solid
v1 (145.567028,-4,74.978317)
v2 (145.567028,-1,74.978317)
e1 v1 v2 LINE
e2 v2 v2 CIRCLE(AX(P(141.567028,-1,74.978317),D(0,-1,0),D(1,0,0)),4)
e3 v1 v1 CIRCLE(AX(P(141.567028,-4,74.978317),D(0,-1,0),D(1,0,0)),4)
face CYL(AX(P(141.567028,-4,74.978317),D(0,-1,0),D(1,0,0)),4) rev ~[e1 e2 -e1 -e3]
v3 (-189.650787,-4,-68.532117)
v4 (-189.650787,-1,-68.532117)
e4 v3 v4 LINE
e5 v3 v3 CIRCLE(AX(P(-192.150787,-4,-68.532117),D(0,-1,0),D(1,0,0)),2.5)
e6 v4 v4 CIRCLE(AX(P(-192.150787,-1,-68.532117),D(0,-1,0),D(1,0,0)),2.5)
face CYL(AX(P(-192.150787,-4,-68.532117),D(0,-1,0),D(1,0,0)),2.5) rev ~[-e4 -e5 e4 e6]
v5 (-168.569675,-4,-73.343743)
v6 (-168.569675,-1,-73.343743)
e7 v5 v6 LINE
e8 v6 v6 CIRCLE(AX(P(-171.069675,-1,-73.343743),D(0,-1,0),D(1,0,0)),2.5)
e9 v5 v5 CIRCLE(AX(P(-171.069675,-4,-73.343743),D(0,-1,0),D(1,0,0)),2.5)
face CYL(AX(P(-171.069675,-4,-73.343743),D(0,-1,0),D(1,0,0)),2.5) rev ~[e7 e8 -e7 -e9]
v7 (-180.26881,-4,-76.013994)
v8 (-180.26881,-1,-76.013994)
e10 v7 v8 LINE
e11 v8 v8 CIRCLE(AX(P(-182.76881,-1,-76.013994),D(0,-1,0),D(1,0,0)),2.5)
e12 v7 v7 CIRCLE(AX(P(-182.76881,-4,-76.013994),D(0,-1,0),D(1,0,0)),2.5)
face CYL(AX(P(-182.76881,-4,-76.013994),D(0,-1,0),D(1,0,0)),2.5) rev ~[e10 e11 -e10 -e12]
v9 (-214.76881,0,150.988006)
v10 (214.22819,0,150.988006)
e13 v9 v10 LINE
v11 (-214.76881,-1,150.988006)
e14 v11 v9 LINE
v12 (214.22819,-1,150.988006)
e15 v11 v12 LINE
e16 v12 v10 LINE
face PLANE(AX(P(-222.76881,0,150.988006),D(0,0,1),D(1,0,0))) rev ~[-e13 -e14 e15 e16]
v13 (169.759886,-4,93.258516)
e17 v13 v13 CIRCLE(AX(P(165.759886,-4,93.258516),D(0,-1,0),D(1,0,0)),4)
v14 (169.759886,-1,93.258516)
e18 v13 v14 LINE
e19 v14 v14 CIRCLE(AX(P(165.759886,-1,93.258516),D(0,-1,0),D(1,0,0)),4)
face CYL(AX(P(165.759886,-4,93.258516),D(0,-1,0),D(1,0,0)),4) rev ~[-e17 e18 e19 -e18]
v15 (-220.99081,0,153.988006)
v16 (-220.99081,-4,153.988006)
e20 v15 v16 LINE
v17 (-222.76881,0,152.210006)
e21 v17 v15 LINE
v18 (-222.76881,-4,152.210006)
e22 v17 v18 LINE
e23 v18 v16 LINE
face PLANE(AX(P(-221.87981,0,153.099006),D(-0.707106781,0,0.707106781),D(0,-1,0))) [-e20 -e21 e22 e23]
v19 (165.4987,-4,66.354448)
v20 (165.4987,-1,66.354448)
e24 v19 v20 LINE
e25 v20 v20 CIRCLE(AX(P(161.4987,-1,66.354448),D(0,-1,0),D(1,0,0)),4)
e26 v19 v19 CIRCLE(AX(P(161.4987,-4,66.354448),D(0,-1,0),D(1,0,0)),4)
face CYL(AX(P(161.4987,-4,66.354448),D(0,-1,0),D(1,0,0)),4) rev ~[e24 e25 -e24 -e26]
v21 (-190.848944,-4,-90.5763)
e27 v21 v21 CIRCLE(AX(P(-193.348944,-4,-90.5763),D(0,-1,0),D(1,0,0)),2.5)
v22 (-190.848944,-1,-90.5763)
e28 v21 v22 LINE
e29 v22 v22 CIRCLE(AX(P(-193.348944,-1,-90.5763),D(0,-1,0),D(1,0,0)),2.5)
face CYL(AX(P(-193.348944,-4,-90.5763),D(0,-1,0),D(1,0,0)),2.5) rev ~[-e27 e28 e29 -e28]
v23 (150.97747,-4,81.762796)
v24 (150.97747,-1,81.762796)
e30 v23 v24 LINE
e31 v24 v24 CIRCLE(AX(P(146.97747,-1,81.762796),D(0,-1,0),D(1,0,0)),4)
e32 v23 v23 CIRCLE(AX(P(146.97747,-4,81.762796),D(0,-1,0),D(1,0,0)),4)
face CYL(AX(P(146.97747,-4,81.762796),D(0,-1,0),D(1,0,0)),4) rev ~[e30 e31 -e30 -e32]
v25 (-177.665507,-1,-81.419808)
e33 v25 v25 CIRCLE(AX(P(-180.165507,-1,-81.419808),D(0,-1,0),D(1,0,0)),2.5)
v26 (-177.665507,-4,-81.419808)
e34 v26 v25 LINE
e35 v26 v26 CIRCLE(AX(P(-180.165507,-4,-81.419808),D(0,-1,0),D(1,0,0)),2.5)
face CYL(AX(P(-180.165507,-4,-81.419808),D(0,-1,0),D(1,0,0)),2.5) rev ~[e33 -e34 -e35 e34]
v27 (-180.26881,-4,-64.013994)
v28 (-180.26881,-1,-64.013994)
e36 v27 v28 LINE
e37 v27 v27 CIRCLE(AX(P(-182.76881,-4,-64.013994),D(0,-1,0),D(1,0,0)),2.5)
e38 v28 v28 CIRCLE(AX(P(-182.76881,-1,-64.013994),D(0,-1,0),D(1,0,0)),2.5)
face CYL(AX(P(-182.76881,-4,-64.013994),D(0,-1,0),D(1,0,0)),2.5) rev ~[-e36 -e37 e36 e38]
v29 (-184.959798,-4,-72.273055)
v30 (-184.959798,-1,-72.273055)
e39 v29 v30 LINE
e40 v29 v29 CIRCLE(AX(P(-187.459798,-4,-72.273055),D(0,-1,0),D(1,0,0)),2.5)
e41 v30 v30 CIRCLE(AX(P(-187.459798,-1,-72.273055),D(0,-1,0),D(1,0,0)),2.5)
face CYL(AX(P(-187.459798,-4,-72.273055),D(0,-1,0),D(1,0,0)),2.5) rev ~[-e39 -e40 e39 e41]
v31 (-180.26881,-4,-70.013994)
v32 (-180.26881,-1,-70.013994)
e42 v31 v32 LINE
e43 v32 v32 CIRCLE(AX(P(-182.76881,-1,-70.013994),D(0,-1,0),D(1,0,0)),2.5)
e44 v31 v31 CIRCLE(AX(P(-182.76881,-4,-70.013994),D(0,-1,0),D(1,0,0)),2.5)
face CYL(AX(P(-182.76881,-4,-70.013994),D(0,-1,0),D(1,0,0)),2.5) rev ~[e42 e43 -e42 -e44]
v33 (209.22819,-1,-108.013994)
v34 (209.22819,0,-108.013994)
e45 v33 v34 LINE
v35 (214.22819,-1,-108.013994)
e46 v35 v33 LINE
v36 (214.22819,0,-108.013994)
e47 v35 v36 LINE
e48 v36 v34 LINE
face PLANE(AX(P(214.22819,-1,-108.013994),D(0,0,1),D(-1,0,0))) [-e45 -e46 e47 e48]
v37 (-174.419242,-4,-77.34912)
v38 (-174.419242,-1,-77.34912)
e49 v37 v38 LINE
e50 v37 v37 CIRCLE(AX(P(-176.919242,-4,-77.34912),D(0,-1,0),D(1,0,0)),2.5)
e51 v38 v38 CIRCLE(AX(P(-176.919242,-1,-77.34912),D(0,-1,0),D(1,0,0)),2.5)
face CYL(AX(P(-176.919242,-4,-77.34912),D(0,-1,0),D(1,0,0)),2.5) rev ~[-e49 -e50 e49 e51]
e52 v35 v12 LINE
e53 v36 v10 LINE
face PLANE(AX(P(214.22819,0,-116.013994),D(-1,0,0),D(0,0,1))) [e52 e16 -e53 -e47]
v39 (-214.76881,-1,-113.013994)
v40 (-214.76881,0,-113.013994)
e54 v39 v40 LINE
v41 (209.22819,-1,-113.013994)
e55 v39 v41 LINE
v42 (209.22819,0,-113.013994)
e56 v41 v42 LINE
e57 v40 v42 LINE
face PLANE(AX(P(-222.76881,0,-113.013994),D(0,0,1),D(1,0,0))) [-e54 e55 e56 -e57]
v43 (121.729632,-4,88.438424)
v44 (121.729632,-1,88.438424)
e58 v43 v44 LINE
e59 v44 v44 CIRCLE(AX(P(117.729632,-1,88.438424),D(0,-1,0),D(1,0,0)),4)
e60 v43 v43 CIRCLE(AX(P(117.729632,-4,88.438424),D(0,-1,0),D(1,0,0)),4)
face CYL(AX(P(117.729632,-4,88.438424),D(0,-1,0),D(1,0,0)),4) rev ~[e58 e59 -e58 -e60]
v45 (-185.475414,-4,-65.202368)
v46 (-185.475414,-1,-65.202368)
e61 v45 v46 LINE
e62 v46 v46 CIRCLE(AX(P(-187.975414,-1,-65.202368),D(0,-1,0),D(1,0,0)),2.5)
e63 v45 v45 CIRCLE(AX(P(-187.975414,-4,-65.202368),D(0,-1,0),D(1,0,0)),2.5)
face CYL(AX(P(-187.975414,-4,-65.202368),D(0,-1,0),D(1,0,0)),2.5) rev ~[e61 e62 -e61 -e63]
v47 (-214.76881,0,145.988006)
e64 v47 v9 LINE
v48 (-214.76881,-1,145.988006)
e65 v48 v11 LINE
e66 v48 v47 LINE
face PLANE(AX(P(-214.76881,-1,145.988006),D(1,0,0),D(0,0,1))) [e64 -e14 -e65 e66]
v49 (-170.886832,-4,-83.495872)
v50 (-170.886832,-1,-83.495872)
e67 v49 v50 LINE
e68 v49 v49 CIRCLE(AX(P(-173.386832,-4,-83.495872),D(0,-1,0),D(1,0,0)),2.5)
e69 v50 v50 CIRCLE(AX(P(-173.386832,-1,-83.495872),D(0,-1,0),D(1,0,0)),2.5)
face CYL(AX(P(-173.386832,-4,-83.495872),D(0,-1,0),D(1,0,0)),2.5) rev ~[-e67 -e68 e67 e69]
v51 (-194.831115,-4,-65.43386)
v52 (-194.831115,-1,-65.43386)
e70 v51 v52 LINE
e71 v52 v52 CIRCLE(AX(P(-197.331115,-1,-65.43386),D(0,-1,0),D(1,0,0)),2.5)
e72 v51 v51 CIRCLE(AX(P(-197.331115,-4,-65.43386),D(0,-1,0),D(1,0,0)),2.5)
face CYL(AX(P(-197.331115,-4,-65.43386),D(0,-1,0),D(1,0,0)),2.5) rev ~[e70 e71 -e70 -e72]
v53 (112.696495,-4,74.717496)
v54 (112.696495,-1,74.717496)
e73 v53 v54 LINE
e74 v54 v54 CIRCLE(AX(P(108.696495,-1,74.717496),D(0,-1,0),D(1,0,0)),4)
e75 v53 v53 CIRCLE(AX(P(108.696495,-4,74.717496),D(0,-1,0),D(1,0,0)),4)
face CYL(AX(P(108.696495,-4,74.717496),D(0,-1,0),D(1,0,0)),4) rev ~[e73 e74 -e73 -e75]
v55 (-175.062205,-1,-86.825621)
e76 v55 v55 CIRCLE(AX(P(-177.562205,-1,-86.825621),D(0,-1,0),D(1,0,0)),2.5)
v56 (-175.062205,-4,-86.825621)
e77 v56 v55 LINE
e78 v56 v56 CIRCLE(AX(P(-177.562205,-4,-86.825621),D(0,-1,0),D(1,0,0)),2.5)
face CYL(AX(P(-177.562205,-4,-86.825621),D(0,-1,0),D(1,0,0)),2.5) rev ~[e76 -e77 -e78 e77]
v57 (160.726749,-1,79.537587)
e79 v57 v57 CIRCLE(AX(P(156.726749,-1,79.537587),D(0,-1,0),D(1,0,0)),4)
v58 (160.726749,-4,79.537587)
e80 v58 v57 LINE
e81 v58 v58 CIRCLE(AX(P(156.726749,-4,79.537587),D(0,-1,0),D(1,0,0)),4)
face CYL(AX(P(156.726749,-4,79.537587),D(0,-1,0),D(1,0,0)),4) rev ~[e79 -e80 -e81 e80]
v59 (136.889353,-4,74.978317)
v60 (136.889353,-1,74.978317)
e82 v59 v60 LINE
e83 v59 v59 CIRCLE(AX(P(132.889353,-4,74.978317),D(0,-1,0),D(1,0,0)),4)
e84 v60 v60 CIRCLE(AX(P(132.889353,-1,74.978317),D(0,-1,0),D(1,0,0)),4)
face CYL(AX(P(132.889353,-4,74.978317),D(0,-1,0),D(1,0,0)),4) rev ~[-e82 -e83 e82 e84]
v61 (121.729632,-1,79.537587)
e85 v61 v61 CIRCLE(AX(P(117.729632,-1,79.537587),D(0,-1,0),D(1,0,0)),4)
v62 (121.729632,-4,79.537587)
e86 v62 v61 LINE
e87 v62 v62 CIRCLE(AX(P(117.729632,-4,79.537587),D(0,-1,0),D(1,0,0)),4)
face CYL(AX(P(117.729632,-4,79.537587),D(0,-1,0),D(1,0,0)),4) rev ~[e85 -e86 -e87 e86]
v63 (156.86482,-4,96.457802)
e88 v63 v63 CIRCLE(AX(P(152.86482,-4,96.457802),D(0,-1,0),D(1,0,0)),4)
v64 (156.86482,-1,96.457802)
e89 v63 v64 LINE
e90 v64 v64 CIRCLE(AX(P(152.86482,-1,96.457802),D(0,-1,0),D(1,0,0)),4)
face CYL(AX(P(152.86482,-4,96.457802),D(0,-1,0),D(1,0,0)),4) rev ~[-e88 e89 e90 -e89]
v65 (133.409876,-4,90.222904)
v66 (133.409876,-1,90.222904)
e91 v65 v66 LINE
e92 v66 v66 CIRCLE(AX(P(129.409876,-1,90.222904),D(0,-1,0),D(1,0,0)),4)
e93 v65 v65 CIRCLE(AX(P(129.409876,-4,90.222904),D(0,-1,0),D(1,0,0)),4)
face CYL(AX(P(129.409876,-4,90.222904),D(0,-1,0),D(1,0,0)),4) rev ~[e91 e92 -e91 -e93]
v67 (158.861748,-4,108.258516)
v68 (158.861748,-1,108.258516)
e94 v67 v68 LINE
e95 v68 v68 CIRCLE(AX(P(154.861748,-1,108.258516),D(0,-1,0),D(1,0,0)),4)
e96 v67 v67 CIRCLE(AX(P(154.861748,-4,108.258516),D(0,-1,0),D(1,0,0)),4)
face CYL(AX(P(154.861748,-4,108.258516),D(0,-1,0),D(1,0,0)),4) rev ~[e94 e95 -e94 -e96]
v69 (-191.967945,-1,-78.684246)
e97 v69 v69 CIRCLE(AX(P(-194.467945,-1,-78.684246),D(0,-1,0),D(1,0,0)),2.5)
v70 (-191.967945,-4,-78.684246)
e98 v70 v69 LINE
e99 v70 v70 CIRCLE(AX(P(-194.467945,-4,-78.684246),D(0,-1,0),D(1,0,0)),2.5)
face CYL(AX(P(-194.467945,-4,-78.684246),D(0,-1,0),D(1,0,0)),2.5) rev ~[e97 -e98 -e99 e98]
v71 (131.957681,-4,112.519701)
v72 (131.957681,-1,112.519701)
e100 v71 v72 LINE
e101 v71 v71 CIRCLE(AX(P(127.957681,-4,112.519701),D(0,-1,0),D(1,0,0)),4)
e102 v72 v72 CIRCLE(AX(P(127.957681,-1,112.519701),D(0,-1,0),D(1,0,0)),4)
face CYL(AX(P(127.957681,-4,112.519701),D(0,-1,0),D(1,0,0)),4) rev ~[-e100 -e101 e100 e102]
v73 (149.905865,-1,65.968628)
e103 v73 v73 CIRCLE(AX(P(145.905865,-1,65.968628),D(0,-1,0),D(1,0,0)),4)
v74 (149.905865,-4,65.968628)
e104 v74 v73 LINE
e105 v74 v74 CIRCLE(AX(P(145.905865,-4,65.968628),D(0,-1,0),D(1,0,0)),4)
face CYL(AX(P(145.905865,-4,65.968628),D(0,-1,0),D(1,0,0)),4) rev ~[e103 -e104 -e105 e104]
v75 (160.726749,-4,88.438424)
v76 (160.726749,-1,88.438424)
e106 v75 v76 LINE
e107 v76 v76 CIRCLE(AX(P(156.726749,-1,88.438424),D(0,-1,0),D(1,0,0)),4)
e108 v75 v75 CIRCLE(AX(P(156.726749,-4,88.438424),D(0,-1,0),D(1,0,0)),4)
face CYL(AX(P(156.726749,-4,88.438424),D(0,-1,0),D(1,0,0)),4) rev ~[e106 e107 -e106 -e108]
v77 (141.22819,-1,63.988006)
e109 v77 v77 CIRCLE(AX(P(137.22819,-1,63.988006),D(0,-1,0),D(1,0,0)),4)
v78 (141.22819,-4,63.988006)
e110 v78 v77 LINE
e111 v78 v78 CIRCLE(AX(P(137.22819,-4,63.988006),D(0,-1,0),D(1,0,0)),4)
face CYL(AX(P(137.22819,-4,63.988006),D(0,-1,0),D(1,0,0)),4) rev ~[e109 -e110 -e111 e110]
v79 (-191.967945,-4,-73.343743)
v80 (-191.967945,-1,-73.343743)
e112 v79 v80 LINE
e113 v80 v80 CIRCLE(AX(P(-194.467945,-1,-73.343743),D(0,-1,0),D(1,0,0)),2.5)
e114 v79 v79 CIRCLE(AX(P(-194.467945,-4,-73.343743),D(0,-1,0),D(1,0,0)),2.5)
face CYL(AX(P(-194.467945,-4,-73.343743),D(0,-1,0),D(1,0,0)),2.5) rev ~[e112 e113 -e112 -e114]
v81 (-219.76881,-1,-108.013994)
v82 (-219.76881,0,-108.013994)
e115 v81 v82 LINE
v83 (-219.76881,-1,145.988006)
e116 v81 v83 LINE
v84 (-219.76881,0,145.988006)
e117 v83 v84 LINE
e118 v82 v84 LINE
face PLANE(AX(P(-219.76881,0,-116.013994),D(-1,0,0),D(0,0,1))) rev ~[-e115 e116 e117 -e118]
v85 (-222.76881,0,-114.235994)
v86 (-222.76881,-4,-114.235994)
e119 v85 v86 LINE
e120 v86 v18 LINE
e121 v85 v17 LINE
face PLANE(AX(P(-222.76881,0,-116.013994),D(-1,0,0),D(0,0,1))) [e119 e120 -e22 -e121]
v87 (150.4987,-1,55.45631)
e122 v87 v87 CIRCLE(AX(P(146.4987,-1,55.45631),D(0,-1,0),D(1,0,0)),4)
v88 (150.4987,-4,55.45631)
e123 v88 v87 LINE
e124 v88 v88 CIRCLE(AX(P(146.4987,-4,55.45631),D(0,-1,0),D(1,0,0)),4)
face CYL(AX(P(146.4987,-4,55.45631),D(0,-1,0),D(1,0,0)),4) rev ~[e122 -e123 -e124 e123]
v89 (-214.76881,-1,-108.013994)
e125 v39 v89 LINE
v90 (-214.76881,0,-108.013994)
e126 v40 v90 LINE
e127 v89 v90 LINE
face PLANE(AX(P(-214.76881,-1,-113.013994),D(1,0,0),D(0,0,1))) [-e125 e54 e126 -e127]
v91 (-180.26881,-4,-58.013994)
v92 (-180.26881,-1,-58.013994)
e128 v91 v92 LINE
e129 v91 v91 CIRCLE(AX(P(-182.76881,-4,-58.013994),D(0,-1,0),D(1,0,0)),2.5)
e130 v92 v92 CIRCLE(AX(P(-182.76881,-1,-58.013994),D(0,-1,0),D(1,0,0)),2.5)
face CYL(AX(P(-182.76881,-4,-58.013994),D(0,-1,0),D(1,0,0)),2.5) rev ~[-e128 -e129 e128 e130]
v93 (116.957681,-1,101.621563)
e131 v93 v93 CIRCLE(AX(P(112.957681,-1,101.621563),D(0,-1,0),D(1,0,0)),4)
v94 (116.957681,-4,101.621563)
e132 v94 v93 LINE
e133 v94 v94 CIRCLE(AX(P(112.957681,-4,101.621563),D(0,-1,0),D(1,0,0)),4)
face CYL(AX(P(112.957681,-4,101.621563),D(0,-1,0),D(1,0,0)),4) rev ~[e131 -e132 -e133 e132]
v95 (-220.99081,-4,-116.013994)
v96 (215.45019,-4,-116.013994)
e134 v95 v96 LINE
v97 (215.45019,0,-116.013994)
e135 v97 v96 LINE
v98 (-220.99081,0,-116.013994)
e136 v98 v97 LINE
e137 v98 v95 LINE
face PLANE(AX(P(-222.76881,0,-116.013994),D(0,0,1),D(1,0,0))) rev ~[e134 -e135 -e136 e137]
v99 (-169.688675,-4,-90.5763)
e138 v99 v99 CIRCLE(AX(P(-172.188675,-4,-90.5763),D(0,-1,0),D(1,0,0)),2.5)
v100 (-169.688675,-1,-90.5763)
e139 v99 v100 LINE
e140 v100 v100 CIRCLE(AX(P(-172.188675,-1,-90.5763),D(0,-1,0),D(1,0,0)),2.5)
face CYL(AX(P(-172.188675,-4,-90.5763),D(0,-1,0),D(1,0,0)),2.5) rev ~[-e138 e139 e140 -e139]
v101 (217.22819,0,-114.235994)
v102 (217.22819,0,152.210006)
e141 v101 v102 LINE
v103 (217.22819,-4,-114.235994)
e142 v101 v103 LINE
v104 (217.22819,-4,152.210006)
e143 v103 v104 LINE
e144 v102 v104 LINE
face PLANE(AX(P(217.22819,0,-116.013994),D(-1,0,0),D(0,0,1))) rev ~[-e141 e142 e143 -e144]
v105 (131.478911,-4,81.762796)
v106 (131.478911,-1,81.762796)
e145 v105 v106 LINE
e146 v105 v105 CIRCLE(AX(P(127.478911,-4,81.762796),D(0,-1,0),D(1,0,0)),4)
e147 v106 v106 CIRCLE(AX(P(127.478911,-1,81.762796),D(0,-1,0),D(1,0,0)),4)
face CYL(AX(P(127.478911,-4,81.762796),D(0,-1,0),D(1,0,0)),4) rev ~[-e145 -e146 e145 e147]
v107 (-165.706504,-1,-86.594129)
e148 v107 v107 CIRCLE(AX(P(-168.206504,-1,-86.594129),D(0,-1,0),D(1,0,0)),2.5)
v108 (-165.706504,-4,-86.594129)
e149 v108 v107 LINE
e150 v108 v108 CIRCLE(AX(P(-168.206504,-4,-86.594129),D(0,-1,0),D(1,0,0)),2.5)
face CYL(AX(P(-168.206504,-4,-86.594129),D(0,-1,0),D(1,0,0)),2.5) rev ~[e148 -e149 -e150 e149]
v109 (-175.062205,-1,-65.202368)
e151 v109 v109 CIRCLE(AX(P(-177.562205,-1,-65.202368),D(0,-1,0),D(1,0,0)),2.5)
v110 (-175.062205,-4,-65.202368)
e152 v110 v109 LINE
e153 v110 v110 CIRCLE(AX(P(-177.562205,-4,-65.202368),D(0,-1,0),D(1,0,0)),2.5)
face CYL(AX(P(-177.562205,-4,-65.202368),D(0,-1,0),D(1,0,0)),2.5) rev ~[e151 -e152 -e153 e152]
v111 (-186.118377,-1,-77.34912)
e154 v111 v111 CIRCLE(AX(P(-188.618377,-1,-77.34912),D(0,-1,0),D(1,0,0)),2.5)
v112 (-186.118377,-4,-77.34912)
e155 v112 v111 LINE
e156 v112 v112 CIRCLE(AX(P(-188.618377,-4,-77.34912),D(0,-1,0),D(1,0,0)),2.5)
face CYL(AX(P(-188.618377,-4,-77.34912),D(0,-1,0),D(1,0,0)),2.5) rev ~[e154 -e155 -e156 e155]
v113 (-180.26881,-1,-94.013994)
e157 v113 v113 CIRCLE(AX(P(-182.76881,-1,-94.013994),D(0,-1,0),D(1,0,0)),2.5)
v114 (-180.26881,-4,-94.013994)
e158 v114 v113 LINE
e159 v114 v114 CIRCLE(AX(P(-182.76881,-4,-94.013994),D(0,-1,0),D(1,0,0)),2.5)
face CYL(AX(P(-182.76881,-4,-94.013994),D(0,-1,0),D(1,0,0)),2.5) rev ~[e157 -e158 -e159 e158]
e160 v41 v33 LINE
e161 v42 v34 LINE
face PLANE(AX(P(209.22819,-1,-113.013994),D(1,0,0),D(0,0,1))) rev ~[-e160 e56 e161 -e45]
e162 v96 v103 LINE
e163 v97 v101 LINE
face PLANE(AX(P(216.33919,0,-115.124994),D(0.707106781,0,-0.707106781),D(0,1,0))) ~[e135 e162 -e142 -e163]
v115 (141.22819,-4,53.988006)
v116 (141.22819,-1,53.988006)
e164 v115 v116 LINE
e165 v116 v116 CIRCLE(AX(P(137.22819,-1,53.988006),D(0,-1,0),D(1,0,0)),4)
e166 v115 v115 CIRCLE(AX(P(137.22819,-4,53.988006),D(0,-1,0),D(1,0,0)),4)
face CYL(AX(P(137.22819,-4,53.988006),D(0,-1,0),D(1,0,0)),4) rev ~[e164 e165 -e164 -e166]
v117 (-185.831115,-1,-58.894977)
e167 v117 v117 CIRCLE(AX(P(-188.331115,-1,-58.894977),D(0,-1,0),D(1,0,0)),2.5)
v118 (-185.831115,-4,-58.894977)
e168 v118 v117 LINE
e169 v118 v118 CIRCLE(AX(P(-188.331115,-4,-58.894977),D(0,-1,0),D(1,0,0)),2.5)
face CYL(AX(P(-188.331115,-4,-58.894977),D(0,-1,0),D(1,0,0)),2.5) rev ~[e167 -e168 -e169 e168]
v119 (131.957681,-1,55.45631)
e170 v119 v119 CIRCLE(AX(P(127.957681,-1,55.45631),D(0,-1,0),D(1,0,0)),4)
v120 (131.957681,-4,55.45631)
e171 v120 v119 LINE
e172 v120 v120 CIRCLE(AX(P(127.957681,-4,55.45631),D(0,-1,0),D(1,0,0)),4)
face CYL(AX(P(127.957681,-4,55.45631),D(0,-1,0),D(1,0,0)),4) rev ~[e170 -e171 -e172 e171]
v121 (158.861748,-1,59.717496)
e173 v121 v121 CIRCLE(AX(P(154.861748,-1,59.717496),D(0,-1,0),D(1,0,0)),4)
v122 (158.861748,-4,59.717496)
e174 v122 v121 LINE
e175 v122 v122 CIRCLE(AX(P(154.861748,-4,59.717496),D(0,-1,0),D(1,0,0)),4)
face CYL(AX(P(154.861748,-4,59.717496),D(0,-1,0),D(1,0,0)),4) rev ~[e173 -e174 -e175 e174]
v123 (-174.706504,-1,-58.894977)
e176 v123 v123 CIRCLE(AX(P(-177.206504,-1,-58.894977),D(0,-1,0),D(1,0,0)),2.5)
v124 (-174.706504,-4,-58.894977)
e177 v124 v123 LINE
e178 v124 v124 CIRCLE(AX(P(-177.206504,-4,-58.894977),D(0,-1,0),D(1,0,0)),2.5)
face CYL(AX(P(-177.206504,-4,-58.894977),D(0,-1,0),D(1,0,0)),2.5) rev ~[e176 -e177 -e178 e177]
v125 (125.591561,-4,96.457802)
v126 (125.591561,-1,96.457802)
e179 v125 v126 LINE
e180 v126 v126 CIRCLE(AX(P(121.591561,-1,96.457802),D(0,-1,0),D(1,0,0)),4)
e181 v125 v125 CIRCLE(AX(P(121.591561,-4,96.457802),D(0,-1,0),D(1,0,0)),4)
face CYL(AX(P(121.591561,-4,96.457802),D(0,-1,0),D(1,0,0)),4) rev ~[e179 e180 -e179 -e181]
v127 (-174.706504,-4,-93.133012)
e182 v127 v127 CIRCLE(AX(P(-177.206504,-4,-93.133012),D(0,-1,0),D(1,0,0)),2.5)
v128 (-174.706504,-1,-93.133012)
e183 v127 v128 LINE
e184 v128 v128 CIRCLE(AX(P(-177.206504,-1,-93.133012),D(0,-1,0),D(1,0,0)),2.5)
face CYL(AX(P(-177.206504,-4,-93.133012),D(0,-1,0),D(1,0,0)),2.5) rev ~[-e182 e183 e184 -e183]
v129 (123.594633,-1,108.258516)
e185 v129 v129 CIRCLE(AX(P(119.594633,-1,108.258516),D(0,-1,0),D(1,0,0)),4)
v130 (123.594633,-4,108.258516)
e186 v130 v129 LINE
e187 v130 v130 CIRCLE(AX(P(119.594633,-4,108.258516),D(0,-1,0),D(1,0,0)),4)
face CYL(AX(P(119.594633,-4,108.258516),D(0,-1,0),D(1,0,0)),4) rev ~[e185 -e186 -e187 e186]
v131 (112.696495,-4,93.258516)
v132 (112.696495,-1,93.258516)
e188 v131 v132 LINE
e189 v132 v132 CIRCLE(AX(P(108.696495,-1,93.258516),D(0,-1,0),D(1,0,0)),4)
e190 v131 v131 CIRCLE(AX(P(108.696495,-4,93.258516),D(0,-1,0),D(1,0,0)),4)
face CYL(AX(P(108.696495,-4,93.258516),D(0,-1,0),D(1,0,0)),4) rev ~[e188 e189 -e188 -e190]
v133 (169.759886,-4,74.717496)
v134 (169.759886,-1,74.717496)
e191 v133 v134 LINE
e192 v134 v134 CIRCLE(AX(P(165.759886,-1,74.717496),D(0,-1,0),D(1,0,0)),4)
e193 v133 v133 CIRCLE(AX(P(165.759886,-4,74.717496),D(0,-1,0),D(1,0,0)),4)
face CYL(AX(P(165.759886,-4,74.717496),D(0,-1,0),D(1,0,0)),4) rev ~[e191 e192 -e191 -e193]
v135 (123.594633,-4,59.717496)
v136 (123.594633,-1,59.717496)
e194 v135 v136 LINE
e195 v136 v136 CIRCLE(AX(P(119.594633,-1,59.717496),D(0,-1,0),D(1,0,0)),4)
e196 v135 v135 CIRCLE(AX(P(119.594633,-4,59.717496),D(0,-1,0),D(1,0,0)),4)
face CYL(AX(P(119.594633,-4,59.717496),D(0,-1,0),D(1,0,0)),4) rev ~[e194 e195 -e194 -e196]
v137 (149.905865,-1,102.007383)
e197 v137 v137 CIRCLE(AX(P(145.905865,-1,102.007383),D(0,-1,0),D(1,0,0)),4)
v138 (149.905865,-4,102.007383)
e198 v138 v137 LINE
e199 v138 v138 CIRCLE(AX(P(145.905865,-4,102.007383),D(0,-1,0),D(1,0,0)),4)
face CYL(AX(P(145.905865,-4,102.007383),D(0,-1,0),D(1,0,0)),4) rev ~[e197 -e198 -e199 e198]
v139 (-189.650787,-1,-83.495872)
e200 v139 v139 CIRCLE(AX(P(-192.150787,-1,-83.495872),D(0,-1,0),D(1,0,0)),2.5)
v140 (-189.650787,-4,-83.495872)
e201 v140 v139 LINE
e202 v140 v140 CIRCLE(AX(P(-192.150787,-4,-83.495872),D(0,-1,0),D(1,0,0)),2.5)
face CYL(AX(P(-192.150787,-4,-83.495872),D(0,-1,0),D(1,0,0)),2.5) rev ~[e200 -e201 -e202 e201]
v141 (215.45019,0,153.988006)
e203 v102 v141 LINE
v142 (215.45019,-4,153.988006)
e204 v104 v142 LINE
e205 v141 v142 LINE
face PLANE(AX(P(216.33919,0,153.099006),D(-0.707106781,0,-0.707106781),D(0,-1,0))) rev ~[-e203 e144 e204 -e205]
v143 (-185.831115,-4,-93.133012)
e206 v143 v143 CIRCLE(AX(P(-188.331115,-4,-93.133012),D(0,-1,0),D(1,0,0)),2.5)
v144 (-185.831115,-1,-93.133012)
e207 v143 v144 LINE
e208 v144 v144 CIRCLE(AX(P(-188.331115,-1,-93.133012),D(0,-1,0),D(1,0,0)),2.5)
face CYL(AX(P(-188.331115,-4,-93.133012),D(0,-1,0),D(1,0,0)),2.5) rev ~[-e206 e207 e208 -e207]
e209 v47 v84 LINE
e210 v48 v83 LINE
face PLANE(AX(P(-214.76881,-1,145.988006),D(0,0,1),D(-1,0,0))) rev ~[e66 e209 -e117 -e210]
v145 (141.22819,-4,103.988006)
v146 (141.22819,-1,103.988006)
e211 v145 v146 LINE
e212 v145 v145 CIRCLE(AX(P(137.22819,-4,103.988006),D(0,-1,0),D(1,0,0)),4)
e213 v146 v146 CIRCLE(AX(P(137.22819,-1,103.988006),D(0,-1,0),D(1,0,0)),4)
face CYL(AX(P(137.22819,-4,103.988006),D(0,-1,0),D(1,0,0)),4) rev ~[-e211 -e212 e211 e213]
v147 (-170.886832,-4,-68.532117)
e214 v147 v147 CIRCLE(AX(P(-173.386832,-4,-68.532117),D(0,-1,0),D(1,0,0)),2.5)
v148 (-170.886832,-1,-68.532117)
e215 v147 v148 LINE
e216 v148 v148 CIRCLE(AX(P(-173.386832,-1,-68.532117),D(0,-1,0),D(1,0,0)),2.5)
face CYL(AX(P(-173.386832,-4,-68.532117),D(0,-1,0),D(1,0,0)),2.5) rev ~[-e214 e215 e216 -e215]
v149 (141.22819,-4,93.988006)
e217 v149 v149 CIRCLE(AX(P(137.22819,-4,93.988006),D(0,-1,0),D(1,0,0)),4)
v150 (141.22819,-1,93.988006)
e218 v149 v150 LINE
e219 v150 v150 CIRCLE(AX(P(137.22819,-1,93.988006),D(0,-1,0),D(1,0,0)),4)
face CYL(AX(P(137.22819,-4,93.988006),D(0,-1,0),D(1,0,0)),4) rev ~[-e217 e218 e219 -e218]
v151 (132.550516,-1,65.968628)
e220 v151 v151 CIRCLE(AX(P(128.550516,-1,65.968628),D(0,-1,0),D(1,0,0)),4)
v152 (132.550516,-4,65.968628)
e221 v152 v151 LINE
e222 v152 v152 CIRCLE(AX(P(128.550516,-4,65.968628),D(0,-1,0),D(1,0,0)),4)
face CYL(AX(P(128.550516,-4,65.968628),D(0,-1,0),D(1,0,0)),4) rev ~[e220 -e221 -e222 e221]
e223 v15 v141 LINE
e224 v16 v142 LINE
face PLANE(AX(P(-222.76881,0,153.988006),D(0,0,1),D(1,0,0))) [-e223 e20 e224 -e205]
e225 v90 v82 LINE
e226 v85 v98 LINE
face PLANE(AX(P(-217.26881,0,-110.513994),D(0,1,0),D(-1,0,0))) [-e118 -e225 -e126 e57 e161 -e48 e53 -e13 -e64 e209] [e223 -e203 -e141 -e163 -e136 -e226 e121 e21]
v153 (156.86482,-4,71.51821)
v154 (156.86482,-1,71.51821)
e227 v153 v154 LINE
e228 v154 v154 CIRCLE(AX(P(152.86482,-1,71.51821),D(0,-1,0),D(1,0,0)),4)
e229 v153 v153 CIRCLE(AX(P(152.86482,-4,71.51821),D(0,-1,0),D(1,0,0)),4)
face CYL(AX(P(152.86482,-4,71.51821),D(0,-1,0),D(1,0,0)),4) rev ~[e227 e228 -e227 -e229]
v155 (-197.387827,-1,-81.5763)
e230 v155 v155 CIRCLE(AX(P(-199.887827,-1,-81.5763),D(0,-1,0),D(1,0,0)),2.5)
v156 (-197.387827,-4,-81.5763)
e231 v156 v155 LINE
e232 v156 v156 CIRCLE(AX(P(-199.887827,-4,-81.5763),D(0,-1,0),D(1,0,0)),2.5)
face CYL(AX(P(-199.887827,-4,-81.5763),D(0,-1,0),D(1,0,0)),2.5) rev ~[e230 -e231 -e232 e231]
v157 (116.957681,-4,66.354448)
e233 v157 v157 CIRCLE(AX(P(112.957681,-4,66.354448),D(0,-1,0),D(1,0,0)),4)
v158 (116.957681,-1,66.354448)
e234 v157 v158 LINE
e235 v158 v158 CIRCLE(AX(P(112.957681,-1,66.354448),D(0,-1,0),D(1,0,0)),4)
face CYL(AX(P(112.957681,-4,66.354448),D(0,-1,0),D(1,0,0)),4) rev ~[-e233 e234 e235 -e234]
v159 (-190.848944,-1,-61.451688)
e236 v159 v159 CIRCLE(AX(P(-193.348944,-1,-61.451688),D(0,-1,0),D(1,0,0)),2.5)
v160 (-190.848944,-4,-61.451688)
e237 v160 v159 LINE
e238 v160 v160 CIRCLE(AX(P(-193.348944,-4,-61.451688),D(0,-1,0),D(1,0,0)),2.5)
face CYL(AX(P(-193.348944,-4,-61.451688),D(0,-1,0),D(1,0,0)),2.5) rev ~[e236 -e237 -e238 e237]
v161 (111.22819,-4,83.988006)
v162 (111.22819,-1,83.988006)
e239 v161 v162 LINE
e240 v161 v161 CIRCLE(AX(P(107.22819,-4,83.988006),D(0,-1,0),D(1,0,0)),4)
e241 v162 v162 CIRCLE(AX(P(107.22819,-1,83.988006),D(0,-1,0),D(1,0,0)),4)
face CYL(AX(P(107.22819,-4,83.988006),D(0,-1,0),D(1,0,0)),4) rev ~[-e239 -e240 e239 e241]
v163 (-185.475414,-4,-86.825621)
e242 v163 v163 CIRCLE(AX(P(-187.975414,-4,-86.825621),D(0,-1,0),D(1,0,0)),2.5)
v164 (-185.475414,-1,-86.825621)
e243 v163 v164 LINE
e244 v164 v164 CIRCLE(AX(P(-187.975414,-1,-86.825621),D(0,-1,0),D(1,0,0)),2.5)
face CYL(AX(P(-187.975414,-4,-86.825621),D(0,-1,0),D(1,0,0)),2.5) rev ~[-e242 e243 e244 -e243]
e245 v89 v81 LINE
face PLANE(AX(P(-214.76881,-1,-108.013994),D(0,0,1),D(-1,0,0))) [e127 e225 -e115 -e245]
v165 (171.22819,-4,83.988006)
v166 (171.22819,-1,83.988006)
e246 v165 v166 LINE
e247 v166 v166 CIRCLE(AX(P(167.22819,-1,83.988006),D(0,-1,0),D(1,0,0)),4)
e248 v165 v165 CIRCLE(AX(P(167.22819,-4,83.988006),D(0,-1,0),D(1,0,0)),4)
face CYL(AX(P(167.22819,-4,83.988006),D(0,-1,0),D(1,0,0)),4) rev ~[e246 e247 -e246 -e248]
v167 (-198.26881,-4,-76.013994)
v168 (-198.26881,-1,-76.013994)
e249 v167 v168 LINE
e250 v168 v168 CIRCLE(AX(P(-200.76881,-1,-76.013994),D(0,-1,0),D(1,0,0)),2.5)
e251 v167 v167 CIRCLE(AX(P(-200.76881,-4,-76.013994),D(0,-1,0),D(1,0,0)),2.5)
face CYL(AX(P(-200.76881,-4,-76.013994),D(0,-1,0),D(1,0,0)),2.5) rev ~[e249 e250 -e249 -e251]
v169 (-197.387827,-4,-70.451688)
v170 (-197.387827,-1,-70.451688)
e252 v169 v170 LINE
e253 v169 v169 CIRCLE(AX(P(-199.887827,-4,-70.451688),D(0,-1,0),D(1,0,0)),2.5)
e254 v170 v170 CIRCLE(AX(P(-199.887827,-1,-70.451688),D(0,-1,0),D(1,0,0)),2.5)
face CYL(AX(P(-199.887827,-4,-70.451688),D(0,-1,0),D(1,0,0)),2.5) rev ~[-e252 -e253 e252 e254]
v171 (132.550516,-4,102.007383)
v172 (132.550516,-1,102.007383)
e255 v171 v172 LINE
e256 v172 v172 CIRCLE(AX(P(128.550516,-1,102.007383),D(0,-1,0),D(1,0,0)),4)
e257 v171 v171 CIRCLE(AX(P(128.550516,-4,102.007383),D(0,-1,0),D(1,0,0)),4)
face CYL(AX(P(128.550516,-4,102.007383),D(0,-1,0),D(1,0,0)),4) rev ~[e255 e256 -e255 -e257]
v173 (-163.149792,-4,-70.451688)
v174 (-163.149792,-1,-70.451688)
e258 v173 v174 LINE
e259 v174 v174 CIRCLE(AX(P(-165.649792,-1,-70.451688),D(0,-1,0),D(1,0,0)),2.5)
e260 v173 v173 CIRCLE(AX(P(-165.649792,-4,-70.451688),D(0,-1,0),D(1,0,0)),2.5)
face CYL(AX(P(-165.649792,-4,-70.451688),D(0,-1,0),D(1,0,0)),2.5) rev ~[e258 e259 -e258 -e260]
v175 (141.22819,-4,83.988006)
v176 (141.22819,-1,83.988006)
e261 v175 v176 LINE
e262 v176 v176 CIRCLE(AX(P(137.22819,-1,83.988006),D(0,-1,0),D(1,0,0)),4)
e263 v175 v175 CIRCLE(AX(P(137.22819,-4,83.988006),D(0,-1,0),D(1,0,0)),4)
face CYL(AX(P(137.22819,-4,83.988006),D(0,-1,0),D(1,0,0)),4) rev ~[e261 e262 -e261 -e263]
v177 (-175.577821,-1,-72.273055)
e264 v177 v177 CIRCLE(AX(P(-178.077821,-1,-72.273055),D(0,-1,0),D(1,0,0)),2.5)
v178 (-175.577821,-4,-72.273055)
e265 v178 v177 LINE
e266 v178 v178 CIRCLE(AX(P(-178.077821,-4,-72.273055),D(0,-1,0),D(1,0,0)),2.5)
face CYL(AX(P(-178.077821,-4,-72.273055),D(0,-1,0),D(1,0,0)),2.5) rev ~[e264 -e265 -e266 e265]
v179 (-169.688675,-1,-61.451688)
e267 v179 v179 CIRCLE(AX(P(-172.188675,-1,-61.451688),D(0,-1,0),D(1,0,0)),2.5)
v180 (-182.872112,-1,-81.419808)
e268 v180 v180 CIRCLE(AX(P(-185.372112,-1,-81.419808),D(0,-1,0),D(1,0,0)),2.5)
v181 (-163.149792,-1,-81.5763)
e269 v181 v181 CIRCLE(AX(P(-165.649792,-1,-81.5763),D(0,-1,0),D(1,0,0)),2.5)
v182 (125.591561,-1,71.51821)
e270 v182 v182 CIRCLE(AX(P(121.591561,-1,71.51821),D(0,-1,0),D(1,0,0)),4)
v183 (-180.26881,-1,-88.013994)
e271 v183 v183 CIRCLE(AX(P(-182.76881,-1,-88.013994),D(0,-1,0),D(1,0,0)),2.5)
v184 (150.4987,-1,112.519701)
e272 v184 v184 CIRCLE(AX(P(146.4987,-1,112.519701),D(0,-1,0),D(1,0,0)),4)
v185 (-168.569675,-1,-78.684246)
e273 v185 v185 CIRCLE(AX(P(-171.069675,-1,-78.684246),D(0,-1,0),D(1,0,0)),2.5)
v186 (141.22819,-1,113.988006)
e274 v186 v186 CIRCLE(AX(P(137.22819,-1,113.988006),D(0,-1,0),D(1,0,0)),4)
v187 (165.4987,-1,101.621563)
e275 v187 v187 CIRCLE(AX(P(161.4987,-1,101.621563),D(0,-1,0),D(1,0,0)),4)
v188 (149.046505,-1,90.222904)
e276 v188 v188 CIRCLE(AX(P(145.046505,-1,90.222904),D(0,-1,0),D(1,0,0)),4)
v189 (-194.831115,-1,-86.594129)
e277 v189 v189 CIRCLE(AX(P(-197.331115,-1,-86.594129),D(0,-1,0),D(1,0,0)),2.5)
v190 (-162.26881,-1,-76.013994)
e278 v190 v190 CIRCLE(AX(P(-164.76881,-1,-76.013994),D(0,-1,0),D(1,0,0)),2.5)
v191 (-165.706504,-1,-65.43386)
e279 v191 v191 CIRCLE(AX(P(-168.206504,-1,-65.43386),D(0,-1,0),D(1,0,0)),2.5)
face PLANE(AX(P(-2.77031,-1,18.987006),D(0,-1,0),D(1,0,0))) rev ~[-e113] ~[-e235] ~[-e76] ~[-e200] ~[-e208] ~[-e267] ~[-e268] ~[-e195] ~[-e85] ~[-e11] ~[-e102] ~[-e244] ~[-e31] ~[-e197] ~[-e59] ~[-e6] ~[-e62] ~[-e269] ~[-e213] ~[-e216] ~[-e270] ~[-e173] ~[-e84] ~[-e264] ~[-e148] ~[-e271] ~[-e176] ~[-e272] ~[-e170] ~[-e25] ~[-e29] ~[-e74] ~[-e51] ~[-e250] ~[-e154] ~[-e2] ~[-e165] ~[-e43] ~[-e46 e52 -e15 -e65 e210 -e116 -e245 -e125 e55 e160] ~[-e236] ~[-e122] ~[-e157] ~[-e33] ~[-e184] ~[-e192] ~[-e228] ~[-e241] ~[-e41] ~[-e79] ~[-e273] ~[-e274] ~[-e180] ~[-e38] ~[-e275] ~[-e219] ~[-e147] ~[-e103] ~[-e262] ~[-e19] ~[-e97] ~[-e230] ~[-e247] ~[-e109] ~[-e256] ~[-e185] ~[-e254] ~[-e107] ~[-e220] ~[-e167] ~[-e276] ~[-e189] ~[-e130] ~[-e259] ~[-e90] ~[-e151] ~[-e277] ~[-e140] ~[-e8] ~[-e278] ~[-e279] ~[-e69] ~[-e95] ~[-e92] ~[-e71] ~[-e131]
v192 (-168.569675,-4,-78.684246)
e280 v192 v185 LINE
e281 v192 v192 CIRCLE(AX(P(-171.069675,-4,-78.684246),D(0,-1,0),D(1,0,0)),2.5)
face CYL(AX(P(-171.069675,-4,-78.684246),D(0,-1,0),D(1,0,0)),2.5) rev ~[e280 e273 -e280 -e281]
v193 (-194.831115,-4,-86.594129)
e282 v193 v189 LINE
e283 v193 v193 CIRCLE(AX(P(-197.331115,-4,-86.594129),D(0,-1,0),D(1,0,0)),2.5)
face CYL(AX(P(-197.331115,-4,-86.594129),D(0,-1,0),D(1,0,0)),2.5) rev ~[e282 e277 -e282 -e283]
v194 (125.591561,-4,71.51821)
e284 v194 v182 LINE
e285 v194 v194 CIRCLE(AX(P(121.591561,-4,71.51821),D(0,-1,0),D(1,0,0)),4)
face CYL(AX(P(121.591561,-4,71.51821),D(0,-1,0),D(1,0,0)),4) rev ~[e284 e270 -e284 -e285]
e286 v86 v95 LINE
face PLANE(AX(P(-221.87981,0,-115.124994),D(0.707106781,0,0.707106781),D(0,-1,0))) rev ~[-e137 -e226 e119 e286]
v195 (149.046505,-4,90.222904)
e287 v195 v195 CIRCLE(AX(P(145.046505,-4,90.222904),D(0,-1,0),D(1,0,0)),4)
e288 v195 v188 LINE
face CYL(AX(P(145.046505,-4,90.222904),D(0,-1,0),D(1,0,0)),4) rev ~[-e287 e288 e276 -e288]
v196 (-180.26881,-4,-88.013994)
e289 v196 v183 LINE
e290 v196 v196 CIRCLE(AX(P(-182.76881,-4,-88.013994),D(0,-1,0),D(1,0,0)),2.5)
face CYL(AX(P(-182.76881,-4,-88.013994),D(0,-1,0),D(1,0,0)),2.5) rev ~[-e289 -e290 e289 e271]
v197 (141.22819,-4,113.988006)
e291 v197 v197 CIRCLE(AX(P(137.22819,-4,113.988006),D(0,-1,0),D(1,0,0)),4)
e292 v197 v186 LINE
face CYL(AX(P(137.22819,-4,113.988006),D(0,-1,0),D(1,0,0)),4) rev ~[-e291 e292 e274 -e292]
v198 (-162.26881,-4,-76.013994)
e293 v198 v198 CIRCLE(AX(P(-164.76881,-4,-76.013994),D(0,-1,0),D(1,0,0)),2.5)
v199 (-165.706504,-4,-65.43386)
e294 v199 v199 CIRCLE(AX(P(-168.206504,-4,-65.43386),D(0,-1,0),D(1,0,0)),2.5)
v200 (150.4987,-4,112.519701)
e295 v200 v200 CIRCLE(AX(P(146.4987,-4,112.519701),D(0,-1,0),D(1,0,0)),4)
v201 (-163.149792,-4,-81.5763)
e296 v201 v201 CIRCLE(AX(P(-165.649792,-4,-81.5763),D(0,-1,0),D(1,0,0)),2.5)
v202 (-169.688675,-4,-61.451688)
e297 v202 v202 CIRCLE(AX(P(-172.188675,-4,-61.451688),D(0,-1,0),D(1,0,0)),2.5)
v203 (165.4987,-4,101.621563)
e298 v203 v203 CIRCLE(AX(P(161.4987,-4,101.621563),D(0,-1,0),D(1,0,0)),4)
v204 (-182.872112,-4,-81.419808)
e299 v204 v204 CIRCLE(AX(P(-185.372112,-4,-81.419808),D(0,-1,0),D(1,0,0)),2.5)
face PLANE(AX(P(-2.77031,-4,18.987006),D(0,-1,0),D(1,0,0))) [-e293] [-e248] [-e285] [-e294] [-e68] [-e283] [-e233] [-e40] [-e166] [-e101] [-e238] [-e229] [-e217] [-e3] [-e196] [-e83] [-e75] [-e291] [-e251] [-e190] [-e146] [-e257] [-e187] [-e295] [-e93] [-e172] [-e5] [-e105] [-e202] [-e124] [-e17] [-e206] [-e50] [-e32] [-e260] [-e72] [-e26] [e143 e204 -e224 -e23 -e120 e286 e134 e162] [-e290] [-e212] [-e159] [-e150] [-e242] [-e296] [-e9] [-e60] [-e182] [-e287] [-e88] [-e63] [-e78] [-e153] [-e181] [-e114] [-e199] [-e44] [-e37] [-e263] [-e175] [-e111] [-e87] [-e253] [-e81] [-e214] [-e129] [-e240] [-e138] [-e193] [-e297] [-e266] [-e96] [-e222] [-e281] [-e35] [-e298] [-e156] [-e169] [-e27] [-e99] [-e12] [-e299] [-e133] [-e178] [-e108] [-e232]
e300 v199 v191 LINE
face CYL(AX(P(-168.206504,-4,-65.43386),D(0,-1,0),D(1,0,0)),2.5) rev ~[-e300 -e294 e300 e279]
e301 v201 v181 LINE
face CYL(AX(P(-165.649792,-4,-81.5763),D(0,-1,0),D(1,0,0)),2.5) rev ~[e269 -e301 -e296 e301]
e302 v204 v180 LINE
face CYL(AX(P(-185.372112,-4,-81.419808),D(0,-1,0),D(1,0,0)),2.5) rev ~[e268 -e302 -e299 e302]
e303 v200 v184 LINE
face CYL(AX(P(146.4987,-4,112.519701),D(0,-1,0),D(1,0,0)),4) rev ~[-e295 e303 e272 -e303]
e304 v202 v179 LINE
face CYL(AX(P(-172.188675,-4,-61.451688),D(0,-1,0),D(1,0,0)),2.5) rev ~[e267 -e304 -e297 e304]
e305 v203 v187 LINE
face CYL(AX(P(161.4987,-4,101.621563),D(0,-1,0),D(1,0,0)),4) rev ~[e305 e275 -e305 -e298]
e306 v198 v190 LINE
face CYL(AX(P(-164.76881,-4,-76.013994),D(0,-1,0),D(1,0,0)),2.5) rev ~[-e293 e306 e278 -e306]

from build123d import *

# Parameters (mm, degrees)
F0_W     = 439.997
F0_H     = 270.002
F1_DEPTH = 4
F2_T     = -3
F4_SIZE  = 1.778
F3_W     = 5
F3_H     = 5
F5_DEPTH = 1
F6_R     = 2.5
F7_DEPTH = 4.001
F8_R     = 4
F9_DEPTH = 4.001


with BuildPart() as f1:
    # F0 (on Front) → F1 (new body)
    with BuildSketch(Plane.XZ):
        with Locations((-2.7703095811, 18.9870057008)):
            Rectangle(F0_W, F0_H)
    extrude(amount=F1_DEPTH)

    # F2
    f2_openings = [f1.faces().sort_by_distance(p)[0] for p in [
        (-2.77031, 0, 18.987006),
    ]]
    offset(amount=F2_T, openings=f2_openings)

    # F4
    f4_edges = [f1.edges().sort_by_distance(p)[0] for p in [
        (-222.76881, -2, -116.013994),
        (-222.76881, -2, 153.988006),
        (217.22819, -2, 153.988006),
        (217.22819, -2, -116.013994),
    ]]
    chamfer(f4_edges, length=F4_SIZE)

    # F3 (on face) → F5 (join, through all)
    with BuildSketch(Plane(origin=(0, -1, 0), x_dir=(-1, 0, 0), z_dir=(0, 1, 0))):
        with Locations((217.2688095811, -110.5139942992)):
            Rectangle(F3_W, F3_H)
        with Locations((217.2688095811, 148.4880057008)):
            Rectangle(F3_W, F3_H)
        with Locations((-211.7281904189, -110.5139942992)):
            Rectangle(F3_W, F3_H)
    extrude(amount=F5_DEPTH)

    # F6 (on face) → F7 (cut, through all)
    with BuildSketch(Plane.XZ.offset(4)):
        with Locations((-182.7688095811, -58.0139942992)):
            Circle(F6_R)
        with Locations((-188.3311154799, -58.8949770059)):
            Circle(F6_R)
        with Locations((-193.3489441224, -61.4516884005)):
            Circle(F6_R)
        with Locations((-197.3311154799, -65.433859758)):
            Circle(F6_R)
        with Locations((-199.8878268745, -70.4516884005)):
            Circle(F6_R)
        with Locations((-200.7688095811, -76.0139942992)):
            Circle(F6_R)
        with Locations((-199.8878268745, -81.576300198)):
            Circle(F6_R)
        with Locations((-197.3311154799, -86.5941288405)):
            Circle(F6_R)
        with Locations((-193.3489441224, -90.576300198)):
            Circle(F6_R)
        with Locations((-188.3311154799, -93.1330115926)):
            Circle(F6_R)
        with Locations((-182.7688095811, -94.0139942992)):
            Circle(F6_R)
        with Locations((-177.2065036824, -93.1330115926)):
            Circle(F6_R)
        with Locations((-172.1886750399, -90.576300198)):
            Circle(F6_R)
        with Locations((-168.2065036824, -86.5941288405)):
            Circle(F6_R)
        with Locations((-182.7688095811, -64.0139942992)):
            Circle(F6_R)
        with Locations((-187.9754144506, -65.2023678844)):
            Circle(F6_R)
        with Locations((-192.1507873708, -68.5321166769)):
            Circle(F6_R)
        with Locations((-194.4679445273, -73.3437430918)):
            Circle(F6_R)
        with Locations((-194.4679445273, -78.6842455067)):
            Circle(F6_R)
        with Locations((-192.1507873708, -83.4958719215)):
            Circle(F6_R)
        with Locations((-187.9754144506, -86.8256207141)):
            Circle(F6_R)
        with Locations((-182.7688095811, -88.0139942992)):
            Circle(F6_R)
        with Locations((-177.5622047117, -86.8256207141)):
            Circle(F6_R)
        with Locations((-173.3868317915, -83.4958719215)):
            Circle(F6_R)
        with Locations((-182.7688095811, -70.0139942992)):
            Circle(F6_R)
        with Locations((-187.459798476, -72.2730554881)):
            Circle(F6_R)
        with Locations((-188.6183770542, -77.349119903)):
            Circle(F6_R)
        with Locations((-185.3721120159, -81.4198075067)):
            Circle(F6_R)
        with Locations((-180.1655071464, -81.4198075067)):
            Circle(F6_R)
        with Locations((-176.9192421081, -77.349119903)):
            Circle(F6_R)
        with Locations((-178.0778206863, -72.2730554881)):
            Circle(F6_R)
        with Locations((-182.7688095811, -76.0139942992)):
            Circle(F6_R)
        with Locations((-165.6497922878, -81.576300198)):
            Circle(F6_R)
        with Locations((-164.7688095811, -76.0139942992)):
            Circle(F6_R)
        with Locations((-165.6497922878, -70.4516884005)):
            Circle(F6_R)
        with Locations((-171.069674635, -78.6842455067)):
            Circle(F6_R)
        with Locations((-171.069674635, -73.3437430918)):
            Circle(F6_R)
        with Locations((-168.2065036824, -65.433859758)):
            Circle(F6_R)
        with Locations((-172.1886750399, -61.4516884005)):
            Circle(F6_R)
        with Locations((-177.2065036824, -58.8949770059)):
            Circle(F6_R)
        with Locations((-173.3868317915, -68.5321166769)):
            Circle(F6_R)
        with Locations((-177.5622047117, -65.2023678844)):
            Circle(F6_R)
    extrude(amount=-F7_DEPTH, mode=Mode.SUBTRACT)

    # F8 (on face) → F9 (cut, through all)
    with BuildSketch(Plane.XZ.offset(4)):
        with Locations((137.2281904189, 113.9880057008)):
            Circle(F8_R)
        with Locations((127.9576805876, 112.5197011896)):
            Circle(F8_R)
        with Locations((119.5946328501, 108.258515532)):
            Circle(F8_R)
        with Locations((112.9576805876, 101.6215632695)):
            Circle(F8_R)
        with Locations((108.69649493, 93.258515532)):
            Circle(F8_R)
        with Locations((107.2281904189, 83.9880057008)):
            Circle(F8_R)
        with Locations((108.69649493, 74.7174958695)):
            Circle(F8_R)
        with Locations((112.9576805876, 66.354448132)):
            Circle(F8_R)
        with Locations((119.5946328501, 59.7174958695)):
            Circle(F8_R)
        with Locations((127.9576805876, 55.4563102119)):
            Circle(F8_R)
        with Locations((137.2281904189, 53.9880057008)):
            Circle(F8_R)
        with Locations((146.4987002501, 55.4563102119)):
            Circle(F8_R)
        with Locations((154.8617479876, 59.7174958695)):
            Circle(F8_R)
        with Locations((161.4987002501, 66.354448132)):
            Circle(F8_R)
        with Locations((137.2281904189, 103.9880057008)):
            Circle(F8_R)
        with Locations((128.5505156365, 102.0073830588)):
            Circle(F8_R)
        with Locations((121.5915607695, 96.4578017379)):
            Circle(F8_R)
        with Locations((117.7296321752, 88.4384243799)):
            Circle(F8_R)
        with Locations((117.7296321752, 79.5375870216)):
            Circle(F8_R)
        with Locations((121.5915607695, 71.5182096636)):
            Circle(F8_R)
        with Locations((128.5505156365, 65.9686283427)):
            Circle(F8_R)
        with Locations((137.2281904189, 63.9880057008)):
            Circle(F8_R)
        with Locations((145.9058652012, 65.9686283427)):
            Circle(F8_R)
        with Locations((152.8648200682, 71.5182096636)):
            Circle(F8_R)
        with Locations((137.2281904189, 93.9880057008)):
            Circle(F8_R)
        with Locations((129.4098755942, 90.2229037193)):
            Circle(F8_R)
        with Locations((127.478911297, 81.7627963612)):
            Circle(F8_R)
        with Locations((132.8893530277, 74.9783170217)):
            Circle(F8_R)
        with Locations((141.56702781, 74.9783170217)):
            Circle(F8_R)
        with Locations((146.9774695407, 81.7627963612)):
            Circle(F8_R)
        with Locations((145.0465052435, 90.2229037193)):
            Circle(F8_R)
        with Locations((137.2281904189, 83.9880057008)):
            Circle(F8_R)
        with Locations((165.7598859077, 74.7174958695)):
            Circle(F8_R)
        with Locations((167.2281904189, 83.9880057008)):
            Circle(F8_R)
        with Locations((165.7598859077, 93.258515532)):
            Circle(F8_R)
        with Locations((156.7267486625, 79.5375870216)):
            Circle(F8_R)
        with Locations((156.7267486625, 88.4384243799)):
            Circle(F8_R)
        with Locations((161.4987002501, 101.6215632695)):
            Circle(F8_R)
        with Locations((154.8617479876, 108.258515532)):
            Circle(F8_R)
        with Locations((146.4987002501, 112.5197011896)):
            Circle(F8_R)
        with Locations((152.8648200682, 96.4578017379)):
            Circle(F8_R)
        with Locations((145.9058652012, 102.0073830588)):
            Circle(F8_R)
    extrude(amount=-F9_DEPTH, mode=Mode.SUBTRACT)


solid = f1.part
